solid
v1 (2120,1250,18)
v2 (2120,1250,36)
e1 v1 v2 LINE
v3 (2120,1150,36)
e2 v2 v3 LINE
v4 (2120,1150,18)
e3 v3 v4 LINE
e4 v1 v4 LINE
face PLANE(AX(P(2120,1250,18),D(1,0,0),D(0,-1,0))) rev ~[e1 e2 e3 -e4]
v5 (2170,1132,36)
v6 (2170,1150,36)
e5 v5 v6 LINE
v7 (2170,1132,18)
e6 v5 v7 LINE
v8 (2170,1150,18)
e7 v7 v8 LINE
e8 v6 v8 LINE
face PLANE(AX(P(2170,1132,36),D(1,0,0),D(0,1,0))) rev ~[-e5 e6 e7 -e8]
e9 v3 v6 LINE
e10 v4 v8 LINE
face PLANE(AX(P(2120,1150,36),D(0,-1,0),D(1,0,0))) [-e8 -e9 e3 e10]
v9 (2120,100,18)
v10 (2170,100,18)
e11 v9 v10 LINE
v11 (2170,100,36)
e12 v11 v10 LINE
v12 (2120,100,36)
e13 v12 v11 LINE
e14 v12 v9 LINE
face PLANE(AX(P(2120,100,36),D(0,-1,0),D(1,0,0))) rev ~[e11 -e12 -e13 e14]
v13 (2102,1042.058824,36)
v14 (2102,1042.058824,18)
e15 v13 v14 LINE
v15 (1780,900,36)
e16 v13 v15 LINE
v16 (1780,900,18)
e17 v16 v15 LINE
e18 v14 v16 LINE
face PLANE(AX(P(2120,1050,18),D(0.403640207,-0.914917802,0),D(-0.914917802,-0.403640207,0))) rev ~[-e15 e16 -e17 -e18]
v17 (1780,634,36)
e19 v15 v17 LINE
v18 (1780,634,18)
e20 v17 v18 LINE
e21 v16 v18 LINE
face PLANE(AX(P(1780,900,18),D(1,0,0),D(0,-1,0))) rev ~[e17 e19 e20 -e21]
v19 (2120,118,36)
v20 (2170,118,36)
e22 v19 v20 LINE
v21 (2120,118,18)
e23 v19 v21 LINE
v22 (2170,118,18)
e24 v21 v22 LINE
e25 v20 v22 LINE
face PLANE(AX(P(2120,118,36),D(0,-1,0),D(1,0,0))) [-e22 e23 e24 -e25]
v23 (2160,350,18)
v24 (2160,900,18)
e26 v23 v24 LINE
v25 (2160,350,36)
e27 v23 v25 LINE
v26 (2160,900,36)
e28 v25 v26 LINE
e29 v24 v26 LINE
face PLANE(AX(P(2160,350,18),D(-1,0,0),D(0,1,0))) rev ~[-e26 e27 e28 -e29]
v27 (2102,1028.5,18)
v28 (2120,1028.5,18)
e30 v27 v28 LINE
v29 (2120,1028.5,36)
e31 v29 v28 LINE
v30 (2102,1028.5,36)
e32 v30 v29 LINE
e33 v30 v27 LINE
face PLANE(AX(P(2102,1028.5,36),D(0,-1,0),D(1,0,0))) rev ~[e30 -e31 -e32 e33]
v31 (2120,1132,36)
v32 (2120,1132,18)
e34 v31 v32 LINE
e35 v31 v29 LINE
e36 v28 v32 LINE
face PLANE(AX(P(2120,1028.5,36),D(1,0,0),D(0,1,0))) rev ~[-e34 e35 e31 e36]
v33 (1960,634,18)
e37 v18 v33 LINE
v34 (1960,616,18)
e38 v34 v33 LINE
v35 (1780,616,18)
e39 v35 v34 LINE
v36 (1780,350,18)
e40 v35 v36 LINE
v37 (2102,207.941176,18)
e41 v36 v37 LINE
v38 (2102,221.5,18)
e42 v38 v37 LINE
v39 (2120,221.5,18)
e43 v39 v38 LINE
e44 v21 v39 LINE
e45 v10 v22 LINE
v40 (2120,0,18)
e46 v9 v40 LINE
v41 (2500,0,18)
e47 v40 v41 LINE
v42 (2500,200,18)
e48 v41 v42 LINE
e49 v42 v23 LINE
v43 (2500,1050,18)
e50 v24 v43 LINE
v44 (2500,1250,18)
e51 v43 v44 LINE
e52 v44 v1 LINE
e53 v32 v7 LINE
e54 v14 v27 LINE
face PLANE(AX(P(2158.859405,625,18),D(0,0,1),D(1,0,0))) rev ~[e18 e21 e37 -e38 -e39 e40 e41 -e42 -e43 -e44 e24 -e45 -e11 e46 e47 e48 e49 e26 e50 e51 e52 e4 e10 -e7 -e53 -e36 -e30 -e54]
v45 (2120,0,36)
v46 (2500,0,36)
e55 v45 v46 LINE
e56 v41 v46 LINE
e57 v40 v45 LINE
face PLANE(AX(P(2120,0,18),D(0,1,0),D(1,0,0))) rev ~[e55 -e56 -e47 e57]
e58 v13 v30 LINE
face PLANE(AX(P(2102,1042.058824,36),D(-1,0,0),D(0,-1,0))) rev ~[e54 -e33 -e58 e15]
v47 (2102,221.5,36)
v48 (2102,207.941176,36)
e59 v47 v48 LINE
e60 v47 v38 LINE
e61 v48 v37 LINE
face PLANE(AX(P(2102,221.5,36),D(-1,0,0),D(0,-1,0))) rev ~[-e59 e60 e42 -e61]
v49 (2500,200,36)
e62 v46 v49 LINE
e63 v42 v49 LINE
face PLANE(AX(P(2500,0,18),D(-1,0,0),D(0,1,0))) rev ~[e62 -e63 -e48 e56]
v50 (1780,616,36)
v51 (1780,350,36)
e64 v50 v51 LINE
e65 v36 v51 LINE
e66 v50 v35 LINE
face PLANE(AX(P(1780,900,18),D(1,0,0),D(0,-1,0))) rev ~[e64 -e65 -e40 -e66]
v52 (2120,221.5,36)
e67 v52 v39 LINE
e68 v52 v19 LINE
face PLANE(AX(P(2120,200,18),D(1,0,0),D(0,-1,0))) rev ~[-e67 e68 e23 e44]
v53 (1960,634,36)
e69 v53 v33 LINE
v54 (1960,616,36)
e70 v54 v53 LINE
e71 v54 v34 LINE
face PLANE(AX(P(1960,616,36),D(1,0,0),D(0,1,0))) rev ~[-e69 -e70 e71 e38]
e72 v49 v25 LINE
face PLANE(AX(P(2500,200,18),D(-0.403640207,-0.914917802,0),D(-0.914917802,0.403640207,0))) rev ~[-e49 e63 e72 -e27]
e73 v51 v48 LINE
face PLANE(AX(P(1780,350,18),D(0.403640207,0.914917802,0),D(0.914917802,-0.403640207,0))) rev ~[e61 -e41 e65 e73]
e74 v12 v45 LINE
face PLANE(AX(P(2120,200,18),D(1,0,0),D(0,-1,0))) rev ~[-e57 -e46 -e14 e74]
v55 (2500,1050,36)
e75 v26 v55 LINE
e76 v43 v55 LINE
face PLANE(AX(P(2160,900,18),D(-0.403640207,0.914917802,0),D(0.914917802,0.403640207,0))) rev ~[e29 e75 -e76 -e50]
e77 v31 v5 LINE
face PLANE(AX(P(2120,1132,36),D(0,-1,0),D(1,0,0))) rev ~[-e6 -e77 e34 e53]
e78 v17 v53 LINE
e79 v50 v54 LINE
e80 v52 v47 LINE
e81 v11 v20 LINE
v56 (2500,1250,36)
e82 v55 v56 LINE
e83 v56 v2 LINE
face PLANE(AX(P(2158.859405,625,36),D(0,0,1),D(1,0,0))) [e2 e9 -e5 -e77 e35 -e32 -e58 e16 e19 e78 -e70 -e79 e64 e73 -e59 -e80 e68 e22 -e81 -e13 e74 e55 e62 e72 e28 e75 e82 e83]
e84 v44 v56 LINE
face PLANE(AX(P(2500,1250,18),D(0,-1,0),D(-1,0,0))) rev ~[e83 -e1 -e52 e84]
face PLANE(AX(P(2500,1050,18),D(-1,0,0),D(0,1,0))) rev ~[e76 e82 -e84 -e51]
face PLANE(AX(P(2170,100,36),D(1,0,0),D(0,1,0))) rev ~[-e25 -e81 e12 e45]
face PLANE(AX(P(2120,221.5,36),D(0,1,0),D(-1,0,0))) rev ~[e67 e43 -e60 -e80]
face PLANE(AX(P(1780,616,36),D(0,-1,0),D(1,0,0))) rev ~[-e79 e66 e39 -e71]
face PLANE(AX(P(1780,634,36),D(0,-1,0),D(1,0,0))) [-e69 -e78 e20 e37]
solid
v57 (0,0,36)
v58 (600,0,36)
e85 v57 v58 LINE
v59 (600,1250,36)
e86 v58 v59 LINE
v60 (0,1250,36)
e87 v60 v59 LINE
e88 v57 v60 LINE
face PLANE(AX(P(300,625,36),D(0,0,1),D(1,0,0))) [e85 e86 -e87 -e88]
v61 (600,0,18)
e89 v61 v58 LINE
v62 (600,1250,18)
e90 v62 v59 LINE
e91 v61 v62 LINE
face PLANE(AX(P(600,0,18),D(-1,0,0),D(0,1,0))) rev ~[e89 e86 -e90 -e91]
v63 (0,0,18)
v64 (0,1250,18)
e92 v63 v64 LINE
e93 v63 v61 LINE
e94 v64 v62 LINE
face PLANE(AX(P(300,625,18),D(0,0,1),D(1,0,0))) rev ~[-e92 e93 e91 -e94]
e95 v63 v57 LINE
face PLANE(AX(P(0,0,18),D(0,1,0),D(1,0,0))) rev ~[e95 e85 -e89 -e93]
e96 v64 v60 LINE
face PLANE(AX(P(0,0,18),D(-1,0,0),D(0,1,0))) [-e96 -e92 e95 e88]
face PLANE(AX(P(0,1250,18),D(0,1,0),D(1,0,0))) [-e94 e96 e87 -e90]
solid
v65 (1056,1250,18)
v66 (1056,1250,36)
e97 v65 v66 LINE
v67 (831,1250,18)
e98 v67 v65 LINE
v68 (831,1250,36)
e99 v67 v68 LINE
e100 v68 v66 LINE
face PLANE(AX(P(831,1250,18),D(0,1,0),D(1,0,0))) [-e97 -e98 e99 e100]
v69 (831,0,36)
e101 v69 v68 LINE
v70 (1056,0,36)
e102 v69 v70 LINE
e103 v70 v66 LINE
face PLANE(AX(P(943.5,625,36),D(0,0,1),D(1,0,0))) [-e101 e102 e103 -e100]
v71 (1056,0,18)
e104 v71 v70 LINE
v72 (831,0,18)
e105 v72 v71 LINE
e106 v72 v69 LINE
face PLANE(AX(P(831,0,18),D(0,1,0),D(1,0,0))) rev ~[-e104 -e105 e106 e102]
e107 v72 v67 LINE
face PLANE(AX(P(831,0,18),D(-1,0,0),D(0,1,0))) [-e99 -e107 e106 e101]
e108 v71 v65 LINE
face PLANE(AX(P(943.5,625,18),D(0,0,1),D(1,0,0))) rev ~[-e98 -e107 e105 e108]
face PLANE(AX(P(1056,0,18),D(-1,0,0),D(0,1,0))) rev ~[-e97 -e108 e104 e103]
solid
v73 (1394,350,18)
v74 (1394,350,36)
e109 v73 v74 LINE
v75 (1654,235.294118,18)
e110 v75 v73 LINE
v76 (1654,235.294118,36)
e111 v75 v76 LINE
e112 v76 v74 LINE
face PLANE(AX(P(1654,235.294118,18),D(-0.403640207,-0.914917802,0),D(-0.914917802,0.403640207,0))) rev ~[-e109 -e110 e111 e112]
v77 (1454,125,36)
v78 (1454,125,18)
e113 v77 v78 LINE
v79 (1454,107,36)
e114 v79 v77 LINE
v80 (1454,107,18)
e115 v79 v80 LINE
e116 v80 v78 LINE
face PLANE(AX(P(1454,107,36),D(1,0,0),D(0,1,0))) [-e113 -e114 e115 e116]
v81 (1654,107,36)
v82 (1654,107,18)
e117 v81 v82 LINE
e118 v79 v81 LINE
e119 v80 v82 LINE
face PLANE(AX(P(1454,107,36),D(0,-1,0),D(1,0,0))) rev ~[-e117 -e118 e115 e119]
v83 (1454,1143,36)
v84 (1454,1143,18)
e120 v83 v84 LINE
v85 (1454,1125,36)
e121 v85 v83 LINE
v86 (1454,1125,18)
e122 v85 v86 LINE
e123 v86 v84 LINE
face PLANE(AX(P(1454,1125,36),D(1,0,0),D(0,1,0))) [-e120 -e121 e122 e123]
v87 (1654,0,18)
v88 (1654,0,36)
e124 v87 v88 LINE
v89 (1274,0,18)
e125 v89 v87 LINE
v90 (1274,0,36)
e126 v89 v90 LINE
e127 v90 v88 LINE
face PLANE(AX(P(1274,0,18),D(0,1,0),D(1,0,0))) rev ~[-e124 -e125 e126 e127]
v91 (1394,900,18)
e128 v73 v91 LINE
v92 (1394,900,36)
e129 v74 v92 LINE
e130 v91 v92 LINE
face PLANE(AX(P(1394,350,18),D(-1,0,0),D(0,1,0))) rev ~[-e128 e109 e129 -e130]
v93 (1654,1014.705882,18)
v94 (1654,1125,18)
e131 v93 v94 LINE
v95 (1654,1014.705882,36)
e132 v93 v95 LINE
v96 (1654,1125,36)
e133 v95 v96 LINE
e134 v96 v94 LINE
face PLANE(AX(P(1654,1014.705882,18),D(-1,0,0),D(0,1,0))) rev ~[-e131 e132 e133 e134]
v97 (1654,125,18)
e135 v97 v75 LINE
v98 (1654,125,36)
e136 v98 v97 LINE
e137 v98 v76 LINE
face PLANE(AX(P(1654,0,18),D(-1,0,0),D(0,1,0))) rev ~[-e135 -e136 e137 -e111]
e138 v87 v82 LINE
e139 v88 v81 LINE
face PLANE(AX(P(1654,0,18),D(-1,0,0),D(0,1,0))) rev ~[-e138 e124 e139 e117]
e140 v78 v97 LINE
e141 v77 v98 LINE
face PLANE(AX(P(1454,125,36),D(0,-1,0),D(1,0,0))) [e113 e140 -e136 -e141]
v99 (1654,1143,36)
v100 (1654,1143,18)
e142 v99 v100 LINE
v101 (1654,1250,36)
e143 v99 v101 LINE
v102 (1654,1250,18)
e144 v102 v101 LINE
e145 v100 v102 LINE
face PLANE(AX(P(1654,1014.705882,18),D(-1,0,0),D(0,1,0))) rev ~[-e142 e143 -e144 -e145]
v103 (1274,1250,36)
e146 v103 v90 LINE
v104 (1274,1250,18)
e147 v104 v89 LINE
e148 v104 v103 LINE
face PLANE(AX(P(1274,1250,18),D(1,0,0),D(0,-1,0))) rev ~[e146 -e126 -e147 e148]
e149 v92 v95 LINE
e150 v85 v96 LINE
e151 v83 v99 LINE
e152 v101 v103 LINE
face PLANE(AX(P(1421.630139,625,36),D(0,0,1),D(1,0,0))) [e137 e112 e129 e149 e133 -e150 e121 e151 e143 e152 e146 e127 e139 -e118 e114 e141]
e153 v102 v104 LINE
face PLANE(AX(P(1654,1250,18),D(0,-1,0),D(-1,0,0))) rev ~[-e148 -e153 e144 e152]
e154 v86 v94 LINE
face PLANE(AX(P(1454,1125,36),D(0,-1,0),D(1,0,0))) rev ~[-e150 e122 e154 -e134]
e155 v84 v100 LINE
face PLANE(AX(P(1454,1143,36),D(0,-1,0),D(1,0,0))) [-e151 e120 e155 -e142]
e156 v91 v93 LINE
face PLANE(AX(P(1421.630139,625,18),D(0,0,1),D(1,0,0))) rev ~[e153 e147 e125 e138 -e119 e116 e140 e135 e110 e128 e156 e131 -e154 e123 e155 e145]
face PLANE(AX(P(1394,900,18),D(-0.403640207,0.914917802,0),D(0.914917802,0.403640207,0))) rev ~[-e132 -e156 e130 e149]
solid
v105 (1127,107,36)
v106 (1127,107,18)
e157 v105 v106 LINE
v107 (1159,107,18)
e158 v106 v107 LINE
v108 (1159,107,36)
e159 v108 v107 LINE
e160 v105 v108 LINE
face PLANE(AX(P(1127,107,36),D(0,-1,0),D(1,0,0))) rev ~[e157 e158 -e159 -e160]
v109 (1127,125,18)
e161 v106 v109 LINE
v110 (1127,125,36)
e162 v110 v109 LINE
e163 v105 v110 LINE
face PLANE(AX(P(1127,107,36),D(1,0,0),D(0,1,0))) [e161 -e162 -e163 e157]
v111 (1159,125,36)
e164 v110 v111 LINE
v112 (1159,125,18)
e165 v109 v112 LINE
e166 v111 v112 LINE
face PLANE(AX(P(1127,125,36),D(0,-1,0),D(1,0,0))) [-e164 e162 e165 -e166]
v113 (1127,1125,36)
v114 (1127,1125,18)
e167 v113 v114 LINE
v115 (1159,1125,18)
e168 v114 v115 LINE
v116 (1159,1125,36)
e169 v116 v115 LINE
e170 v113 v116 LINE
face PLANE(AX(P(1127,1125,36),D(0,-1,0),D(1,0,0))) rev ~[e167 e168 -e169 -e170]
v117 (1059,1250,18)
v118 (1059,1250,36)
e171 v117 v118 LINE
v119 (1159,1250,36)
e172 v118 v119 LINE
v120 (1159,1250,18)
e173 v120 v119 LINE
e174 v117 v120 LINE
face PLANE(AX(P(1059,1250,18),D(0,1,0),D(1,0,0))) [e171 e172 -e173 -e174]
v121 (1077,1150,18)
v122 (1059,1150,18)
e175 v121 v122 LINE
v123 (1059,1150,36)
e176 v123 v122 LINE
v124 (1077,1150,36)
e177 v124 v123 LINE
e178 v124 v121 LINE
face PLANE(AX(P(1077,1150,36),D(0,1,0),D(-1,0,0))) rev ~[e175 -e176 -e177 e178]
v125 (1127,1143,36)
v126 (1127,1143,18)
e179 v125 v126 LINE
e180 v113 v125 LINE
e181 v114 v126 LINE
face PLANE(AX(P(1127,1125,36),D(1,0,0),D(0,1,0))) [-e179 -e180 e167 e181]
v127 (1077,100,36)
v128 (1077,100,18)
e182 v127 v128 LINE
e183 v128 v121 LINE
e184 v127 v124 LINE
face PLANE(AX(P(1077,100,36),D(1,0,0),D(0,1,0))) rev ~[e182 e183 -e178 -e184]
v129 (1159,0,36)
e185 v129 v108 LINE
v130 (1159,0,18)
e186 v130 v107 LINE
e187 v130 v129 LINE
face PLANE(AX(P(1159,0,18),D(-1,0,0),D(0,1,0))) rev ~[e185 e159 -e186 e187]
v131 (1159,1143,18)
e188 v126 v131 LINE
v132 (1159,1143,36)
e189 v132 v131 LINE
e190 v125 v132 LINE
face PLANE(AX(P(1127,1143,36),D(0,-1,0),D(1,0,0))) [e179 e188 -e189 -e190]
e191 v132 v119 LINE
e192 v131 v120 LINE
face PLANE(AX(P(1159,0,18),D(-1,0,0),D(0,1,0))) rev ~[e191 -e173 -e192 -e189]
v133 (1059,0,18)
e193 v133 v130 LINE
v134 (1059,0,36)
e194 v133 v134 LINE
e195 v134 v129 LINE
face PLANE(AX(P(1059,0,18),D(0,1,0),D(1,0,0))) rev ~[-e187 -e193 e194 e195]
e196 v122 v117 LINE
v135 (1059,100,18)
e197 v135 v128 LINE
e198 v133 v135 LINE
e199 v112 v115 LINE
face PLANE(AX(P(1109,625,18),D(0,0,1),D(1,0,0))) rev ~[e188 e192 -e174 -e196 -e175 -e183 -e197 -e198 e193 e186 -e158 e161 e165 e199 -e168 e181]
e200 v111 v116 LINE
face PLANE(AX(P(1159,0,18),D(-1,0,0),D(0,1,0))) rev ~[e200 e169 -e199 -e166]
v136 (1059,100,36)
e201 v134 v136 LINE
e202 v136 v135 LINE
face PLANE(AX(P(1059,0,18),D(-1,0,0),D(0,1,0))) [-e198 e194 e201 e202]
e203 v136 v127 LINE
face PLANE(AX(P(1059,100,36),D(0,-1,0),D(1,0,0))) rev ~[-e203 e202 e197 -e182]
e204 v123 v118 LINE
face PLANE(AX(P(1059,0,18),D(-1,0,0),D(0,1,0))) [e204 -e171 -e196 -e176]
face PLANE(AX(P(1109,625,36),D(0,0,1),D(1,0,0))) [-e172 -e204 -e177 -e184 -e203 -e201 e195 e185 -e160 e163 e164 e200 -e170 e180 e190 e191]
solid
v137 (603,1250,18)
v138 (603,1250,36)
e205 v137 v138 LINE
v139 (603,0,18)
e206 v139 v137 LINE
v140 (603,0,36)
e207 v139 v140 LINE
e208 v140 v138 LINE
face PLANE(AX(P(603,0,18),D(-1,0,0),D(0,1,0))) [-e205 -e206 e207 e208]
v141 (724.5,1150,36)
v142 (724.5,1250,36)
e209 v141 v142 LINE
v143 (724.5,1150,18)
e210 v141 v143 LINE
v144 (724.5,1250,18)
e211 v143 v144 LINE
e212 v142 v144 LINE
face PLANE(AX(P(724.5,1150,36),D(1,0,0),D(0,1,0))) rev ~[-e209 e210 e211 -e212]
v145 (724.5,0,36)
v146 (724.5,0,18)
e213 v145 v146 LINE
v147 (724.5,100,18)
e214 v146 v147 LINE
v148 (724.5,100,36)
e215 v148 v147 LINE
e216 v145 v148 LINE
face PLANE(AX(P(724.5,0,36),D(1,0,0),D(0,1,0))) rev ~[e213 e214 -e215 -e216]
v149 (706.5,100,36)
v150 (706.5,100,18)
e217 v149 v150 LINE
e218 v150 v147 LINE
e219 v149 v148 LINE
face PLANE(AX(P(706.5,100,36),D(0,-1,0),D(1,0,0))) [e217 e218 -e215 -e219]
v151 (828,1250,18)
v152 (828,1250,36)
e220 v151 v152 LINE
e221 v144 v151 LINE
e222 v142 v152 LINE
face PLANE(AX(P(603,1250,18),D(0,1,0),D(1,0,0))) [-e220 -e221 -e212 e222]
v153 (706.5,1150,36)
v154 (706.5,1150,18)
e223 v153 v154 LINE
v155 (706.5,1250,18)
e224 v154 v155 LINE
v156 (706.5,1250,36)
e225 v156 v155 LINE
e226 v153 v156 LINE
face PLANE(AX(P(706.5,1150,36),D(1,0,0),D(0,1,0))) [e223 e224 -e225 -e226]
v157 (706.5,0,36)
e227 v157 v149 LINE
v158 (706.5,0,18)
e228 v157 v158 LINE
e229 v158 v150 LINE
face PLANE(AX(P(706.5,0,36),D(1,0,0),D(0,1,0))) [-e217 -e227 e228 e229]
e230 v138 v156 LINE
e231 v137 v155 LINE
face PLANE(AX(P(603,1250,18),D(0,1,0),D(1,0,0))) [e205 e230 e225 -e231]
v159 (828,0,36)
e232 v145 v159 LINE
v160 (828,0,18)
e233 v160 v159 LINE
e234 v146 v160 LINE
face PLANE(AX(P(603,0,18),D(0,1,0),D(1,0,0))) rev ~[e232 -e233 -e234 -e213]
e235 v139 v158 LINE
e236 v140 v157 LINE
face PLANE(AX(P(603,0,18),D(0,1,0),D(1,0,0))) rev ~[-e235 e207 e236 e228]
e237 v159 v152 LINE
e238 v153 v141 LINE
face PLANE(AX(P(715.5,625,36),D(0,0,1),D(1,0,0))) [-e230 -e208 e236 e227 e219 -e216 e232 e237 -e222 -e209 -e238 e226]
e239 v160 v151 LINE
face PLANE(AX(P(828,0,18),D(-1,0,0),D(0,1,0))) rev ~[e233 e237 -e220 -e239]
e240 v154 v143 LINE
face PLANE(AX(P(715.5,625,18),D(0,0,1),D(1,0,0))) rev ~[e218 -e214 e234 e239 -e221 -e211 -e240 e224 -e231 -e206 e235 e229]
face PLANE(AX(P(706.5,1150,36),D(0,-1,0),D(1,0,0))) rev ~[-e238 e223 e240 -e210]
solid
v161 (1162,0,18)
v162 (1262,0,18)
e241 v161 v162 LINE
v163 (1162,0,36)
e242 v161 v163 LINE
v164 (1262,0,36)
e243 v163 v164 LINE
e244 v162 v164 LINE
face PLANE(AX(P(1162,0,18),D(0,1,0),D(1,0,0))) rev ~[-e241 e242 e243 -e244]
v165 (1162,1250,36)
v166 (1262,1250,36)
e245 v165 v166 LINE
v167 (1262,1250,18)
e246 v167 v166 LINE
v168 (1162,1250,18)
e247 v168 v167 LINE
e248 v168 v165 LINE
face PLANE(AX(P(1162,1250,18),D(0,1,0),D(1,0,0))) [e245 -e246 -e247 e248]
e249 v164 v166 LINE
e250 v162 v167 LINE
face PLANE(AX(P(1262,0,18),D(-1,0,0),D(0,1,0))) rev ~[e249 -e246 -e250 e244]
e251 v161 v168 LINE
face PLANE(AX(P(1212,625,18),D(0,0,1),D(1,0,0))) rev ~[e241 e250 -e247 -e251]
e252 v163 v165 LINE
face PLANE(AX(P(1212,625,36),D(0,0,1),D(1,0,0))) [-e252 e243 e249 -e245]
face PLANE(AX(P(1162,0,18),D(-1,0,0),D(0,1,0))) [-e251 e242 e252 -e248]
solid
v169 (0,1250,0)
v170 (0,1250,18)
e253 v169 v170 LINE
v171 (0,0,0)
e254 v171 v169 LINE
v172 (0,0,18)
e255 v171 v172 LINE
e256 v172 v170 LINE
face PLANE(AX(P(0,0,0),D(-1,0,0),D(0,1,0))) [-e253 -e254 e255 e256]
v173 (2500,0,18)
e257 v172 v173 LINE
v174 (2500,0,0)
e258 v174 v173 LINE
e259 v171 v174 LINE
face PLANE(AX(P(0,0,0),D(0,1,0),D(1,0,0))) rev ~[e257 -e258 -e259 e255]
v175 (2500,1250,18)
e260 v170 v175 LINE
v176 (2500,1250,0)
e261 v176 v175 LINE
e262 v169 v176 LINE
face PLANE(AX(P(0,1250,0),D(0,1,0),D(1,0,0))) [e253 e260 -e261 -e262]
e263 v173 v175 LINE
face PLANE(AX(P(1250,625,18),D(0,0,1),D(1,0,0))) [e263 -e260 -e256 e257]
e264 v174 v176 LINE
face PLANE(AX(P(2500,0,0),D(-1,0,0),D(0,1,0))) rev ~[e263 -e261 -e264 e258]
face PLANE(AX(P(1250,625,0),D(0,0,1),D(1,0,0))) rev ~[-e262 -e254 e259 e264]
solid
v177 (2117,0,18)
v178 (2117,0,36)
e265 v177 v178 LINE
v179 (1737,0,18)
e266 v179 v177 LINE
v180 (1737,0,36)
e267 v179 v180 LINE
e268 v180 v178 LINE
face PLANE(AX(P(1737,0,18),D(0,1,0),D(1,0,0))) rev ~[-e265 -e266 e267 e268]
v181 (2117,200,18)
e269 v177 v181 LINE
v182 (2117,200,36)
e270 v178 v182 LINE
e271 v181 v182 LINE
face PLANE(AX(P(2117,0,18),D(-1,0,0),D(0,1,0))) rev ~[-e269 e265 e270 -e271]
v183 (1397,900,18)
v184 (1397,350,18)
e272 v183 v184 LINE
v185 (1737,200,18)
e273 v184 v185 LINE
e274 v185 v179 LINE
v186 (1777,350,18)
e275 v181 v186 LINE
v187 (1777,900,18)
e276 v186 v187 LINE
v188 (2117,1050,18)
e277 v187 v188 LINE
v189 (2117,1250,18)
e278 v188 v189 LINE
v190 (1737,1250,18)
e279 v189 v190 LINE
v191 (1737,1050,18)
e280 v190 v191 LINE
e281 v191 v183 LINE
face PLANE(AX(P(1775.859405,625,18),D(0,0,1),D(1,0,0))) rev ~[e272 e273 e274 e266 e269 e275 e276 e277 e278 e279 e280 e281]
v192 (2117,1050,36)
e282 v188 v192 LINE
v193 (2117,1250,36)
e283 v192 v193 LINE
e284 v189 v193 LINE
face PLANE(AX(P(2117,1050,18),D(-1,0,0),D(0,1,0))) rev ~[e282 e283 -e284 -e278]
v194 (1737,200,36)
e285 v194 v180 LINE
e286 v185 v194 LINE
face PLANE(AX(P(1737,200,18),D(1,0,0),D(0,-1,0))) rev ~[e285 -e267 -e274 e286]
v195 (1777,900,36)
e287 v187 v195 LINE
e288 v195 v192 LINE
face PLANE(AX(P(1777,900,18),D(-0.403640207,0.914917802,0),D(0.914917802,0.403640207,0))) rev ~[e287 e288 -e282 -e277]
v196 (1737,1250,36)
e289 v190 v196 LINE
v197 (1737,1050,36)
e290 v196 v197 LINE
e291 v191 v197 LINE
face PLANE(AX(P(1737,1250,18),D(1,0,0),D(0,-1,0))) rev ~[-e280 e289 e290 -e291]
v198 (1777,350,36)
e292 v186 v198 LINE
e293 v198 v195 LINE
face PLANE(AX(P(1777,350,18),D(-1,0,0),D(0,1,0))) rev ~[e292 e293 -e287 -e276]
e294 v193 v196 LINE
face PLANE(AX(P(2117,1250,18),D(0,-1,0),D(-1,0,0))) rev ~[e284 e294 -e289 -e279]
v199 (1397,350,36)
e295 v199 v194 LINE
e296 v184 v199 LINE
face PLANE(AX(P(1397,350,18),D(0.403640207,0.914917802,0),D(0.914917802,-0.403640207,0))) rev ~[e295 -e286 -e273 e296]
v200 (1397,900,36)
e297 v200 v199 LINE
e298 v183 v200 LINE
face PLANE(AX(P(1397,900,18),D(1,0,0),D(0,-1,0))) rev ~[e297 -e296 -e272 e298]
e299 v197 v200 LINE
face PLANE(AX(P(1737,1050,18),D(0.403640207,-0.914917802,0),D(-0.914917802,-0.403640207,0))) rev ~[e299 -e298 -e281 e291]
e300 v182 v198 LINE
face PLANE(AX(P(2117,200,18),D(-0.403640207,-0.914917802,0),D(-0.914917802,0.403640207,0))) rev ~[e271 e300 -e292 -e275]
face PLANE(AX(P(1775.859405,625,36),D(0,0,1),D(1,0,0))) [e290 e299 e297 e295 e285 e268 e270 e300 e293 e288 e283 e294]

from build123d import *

# Parameters (mm, degrees)
F0_W      = 2500
F0_H      = 1250
F1_DEPTH  = 18
F3_DEPTH  = 18
F6_DEPTH  = 18
F7_W      = 600
F7_H      = 1250
F8_DEPTH  = 18
F9_W      = 225
F9_H      = 1250
F10_DEPTH = 18
F12_W     = 100
F12_H     = 1250
F13_DEPTH = 18
F16_DEPTH = 18
F17_W     = 32
F17_H     = 18
F18_DEPTH = 36.001
F19_W     = 18
F19_H     = 100
F20_DEPTH = 18
F21_W     = 50
F21_H     = 18
F22_DEPTH = 18
F23_W     = 180
F23_H     = 18
F24_DEPTH = 18
F25_W     = 200
F25_H     = 18
F26_DEPTH = 18


with BuildPart() as f1:
    # F0 (on Top) → F1 (new body)
    with BuildSketch(Plane.XY):
        with Locations((1250, 625)):
            Rectangle(F0_W, F0_H)
    extrude(amount=F1_DEPTH)


with BuildPart() as f3:
    # F2 (on face) → F3 (new body)
    with BuildSketch(Plane.XY.offset(18)):
        Polygon((2500, 1050), (2500, 1250), (2120, 1250), (2120, 1050), (1780, 900), (1780, 350), (2120, 200), (2120, 0), (2500, 0), (2500, 200), (2160, 350), (2160, 900), align=None)
    extrude(amount=F3_DEPTH)


with BuildPart() as f4_1:
    # F4: copy of F3
    add(f3.part.moved(Location((-383, 0, 0))))


with BuildPart() as f6:
    # F5 (on face) → F6 (new body)
    with BuildSketch(Plane.XY.offset(18)):
        Polygon((1654, 1014.7058823529), (1654, 1250), (1274, 1250), (1274, 0), (1654, 0), (1654, 235.2941176471), (1394, 350), (1394, 900), align=None)
    extrude(amount=F6_DEPTH)

    # F25 (on face) → F26 (cut, through all)
    with BuildSketch(Plane.XY.offset(36)):
        with Locations((1554, 1134)):
            Rectangle(F25_W, F25_H)
        with Locations((1554, 116)):
            Rectangle(F25_W, F25_H)
    extrude(amount=-F26_DEPTH, mode=Mode.SUBTRACT)


with BuildPart() as f8:
    # F7 (on face) → F8 (new body)
    with BuildSketch(Plane.XY.offset(18)):
        with Locations((300, 625)):
            Rectangle(F7_W, F7_H)
    extrude(amount=F8_DEPTH)


with BuildPart() as f10:
    # F9 (on face) → F10 (new body)
    with BuildSketch(Plane.XY.offset(18)):
        with Locations((715.5, 625)):
            Rectangle(F9_W, F9_H)
    extrude(amount=F10_DEPTH)


with BuildPart() as f11_1:
    # F11: copy of F10
    add(f10.part.moved(Location((228, 0, 0))))


with BuildPart() as f13:
    # F12 (on face) → F13 (new body)
    with BuildSketch(Plane.XY.offset(18)):
        with Locations((1109, 625)):
            Rectangle(F12_W, F12_H)
    extrude(amount=F13_DEPTH)


with BuildPart() as f14_1:
    # F14: copy of F13
    add(f13.part.moved(Location((103, 0, 0))))


with BuildPart() as f13_1:
    add(f13.part)

    # F15 (on face) → F16 (cut)
    with BuildSketch(Plane.XY.offset(36)):
        Polygon((1077, 1150), (1059, 1150), (1059, 100), (1077, 100), (1077, 625), align=None)
    extrude(amount=-F16_DEPTH, mode=Mode.SUBTRACT)

    # F17 (on face) → F18 (cut, through all)
    with BuildSketch(Plane.XY.offset(36)):
        with Locations((1143, 116)):
            Rectangle(F17_W, F17_H)
        with Locations((1143, 1134)):
            Rectangle(F17_W, F17_H)
    extrude(amount=-F18_DEPTH, mode=Mode.SUBTRACT)


with BuildPart() as f10_1:
    add(f10.part)

    # F19 (on face) → F20 (cut)
    with BuildSketch(Plane.XY.offset(36)):
        with Locations((715.5, 1200)):
            Rectangle(F19_W, F19_H)
        with Locations((715.5, 50)):
            Rectangle(F19_W, F19_H)
    extrude(amount=-F20_DEPTH, mode=Mode.SUBTRACT)


with BuildPart() as f3_1:
    add(f3.part)

    # F21 (on face) → F22 (cut, through all)
    with BuildSketch(Plane.XY.offset(36)):
        with Locations((2145, 109)):
            Rectangle(F21_W, F21_H)
        with Locations((2145, 1141)):
            Rectangle(F21_W, F21_H)
        Polygon((2120, 1050), (2102, 1042.0588235294), (2102, 1028.5), (2120, 1028.5), align=None)
        Polygon((2102, 207.9411764706), (2120, 200), (2120, 221.5), (2102, 221.5), align=None)
    extrude(amount=-F22_DEPTH, mode=Mode.SUBTRACT)

    # F23 (on face) → F24 (cut, through all)
    with BuildSketch(Plane.XY.offset(36)):
        with Locations((1870, 625)):
            Rectangle(F23_W, F23_H)
    extrude(amount=-F24_DEPTH, mode=Mode.SUBTRACT)


solid = Compound([f1.part, f4_1.part, f6.part, f8.part, f11_1.part, f14_1.part, f13_1.part, f10_1.part, f3_1.part])
